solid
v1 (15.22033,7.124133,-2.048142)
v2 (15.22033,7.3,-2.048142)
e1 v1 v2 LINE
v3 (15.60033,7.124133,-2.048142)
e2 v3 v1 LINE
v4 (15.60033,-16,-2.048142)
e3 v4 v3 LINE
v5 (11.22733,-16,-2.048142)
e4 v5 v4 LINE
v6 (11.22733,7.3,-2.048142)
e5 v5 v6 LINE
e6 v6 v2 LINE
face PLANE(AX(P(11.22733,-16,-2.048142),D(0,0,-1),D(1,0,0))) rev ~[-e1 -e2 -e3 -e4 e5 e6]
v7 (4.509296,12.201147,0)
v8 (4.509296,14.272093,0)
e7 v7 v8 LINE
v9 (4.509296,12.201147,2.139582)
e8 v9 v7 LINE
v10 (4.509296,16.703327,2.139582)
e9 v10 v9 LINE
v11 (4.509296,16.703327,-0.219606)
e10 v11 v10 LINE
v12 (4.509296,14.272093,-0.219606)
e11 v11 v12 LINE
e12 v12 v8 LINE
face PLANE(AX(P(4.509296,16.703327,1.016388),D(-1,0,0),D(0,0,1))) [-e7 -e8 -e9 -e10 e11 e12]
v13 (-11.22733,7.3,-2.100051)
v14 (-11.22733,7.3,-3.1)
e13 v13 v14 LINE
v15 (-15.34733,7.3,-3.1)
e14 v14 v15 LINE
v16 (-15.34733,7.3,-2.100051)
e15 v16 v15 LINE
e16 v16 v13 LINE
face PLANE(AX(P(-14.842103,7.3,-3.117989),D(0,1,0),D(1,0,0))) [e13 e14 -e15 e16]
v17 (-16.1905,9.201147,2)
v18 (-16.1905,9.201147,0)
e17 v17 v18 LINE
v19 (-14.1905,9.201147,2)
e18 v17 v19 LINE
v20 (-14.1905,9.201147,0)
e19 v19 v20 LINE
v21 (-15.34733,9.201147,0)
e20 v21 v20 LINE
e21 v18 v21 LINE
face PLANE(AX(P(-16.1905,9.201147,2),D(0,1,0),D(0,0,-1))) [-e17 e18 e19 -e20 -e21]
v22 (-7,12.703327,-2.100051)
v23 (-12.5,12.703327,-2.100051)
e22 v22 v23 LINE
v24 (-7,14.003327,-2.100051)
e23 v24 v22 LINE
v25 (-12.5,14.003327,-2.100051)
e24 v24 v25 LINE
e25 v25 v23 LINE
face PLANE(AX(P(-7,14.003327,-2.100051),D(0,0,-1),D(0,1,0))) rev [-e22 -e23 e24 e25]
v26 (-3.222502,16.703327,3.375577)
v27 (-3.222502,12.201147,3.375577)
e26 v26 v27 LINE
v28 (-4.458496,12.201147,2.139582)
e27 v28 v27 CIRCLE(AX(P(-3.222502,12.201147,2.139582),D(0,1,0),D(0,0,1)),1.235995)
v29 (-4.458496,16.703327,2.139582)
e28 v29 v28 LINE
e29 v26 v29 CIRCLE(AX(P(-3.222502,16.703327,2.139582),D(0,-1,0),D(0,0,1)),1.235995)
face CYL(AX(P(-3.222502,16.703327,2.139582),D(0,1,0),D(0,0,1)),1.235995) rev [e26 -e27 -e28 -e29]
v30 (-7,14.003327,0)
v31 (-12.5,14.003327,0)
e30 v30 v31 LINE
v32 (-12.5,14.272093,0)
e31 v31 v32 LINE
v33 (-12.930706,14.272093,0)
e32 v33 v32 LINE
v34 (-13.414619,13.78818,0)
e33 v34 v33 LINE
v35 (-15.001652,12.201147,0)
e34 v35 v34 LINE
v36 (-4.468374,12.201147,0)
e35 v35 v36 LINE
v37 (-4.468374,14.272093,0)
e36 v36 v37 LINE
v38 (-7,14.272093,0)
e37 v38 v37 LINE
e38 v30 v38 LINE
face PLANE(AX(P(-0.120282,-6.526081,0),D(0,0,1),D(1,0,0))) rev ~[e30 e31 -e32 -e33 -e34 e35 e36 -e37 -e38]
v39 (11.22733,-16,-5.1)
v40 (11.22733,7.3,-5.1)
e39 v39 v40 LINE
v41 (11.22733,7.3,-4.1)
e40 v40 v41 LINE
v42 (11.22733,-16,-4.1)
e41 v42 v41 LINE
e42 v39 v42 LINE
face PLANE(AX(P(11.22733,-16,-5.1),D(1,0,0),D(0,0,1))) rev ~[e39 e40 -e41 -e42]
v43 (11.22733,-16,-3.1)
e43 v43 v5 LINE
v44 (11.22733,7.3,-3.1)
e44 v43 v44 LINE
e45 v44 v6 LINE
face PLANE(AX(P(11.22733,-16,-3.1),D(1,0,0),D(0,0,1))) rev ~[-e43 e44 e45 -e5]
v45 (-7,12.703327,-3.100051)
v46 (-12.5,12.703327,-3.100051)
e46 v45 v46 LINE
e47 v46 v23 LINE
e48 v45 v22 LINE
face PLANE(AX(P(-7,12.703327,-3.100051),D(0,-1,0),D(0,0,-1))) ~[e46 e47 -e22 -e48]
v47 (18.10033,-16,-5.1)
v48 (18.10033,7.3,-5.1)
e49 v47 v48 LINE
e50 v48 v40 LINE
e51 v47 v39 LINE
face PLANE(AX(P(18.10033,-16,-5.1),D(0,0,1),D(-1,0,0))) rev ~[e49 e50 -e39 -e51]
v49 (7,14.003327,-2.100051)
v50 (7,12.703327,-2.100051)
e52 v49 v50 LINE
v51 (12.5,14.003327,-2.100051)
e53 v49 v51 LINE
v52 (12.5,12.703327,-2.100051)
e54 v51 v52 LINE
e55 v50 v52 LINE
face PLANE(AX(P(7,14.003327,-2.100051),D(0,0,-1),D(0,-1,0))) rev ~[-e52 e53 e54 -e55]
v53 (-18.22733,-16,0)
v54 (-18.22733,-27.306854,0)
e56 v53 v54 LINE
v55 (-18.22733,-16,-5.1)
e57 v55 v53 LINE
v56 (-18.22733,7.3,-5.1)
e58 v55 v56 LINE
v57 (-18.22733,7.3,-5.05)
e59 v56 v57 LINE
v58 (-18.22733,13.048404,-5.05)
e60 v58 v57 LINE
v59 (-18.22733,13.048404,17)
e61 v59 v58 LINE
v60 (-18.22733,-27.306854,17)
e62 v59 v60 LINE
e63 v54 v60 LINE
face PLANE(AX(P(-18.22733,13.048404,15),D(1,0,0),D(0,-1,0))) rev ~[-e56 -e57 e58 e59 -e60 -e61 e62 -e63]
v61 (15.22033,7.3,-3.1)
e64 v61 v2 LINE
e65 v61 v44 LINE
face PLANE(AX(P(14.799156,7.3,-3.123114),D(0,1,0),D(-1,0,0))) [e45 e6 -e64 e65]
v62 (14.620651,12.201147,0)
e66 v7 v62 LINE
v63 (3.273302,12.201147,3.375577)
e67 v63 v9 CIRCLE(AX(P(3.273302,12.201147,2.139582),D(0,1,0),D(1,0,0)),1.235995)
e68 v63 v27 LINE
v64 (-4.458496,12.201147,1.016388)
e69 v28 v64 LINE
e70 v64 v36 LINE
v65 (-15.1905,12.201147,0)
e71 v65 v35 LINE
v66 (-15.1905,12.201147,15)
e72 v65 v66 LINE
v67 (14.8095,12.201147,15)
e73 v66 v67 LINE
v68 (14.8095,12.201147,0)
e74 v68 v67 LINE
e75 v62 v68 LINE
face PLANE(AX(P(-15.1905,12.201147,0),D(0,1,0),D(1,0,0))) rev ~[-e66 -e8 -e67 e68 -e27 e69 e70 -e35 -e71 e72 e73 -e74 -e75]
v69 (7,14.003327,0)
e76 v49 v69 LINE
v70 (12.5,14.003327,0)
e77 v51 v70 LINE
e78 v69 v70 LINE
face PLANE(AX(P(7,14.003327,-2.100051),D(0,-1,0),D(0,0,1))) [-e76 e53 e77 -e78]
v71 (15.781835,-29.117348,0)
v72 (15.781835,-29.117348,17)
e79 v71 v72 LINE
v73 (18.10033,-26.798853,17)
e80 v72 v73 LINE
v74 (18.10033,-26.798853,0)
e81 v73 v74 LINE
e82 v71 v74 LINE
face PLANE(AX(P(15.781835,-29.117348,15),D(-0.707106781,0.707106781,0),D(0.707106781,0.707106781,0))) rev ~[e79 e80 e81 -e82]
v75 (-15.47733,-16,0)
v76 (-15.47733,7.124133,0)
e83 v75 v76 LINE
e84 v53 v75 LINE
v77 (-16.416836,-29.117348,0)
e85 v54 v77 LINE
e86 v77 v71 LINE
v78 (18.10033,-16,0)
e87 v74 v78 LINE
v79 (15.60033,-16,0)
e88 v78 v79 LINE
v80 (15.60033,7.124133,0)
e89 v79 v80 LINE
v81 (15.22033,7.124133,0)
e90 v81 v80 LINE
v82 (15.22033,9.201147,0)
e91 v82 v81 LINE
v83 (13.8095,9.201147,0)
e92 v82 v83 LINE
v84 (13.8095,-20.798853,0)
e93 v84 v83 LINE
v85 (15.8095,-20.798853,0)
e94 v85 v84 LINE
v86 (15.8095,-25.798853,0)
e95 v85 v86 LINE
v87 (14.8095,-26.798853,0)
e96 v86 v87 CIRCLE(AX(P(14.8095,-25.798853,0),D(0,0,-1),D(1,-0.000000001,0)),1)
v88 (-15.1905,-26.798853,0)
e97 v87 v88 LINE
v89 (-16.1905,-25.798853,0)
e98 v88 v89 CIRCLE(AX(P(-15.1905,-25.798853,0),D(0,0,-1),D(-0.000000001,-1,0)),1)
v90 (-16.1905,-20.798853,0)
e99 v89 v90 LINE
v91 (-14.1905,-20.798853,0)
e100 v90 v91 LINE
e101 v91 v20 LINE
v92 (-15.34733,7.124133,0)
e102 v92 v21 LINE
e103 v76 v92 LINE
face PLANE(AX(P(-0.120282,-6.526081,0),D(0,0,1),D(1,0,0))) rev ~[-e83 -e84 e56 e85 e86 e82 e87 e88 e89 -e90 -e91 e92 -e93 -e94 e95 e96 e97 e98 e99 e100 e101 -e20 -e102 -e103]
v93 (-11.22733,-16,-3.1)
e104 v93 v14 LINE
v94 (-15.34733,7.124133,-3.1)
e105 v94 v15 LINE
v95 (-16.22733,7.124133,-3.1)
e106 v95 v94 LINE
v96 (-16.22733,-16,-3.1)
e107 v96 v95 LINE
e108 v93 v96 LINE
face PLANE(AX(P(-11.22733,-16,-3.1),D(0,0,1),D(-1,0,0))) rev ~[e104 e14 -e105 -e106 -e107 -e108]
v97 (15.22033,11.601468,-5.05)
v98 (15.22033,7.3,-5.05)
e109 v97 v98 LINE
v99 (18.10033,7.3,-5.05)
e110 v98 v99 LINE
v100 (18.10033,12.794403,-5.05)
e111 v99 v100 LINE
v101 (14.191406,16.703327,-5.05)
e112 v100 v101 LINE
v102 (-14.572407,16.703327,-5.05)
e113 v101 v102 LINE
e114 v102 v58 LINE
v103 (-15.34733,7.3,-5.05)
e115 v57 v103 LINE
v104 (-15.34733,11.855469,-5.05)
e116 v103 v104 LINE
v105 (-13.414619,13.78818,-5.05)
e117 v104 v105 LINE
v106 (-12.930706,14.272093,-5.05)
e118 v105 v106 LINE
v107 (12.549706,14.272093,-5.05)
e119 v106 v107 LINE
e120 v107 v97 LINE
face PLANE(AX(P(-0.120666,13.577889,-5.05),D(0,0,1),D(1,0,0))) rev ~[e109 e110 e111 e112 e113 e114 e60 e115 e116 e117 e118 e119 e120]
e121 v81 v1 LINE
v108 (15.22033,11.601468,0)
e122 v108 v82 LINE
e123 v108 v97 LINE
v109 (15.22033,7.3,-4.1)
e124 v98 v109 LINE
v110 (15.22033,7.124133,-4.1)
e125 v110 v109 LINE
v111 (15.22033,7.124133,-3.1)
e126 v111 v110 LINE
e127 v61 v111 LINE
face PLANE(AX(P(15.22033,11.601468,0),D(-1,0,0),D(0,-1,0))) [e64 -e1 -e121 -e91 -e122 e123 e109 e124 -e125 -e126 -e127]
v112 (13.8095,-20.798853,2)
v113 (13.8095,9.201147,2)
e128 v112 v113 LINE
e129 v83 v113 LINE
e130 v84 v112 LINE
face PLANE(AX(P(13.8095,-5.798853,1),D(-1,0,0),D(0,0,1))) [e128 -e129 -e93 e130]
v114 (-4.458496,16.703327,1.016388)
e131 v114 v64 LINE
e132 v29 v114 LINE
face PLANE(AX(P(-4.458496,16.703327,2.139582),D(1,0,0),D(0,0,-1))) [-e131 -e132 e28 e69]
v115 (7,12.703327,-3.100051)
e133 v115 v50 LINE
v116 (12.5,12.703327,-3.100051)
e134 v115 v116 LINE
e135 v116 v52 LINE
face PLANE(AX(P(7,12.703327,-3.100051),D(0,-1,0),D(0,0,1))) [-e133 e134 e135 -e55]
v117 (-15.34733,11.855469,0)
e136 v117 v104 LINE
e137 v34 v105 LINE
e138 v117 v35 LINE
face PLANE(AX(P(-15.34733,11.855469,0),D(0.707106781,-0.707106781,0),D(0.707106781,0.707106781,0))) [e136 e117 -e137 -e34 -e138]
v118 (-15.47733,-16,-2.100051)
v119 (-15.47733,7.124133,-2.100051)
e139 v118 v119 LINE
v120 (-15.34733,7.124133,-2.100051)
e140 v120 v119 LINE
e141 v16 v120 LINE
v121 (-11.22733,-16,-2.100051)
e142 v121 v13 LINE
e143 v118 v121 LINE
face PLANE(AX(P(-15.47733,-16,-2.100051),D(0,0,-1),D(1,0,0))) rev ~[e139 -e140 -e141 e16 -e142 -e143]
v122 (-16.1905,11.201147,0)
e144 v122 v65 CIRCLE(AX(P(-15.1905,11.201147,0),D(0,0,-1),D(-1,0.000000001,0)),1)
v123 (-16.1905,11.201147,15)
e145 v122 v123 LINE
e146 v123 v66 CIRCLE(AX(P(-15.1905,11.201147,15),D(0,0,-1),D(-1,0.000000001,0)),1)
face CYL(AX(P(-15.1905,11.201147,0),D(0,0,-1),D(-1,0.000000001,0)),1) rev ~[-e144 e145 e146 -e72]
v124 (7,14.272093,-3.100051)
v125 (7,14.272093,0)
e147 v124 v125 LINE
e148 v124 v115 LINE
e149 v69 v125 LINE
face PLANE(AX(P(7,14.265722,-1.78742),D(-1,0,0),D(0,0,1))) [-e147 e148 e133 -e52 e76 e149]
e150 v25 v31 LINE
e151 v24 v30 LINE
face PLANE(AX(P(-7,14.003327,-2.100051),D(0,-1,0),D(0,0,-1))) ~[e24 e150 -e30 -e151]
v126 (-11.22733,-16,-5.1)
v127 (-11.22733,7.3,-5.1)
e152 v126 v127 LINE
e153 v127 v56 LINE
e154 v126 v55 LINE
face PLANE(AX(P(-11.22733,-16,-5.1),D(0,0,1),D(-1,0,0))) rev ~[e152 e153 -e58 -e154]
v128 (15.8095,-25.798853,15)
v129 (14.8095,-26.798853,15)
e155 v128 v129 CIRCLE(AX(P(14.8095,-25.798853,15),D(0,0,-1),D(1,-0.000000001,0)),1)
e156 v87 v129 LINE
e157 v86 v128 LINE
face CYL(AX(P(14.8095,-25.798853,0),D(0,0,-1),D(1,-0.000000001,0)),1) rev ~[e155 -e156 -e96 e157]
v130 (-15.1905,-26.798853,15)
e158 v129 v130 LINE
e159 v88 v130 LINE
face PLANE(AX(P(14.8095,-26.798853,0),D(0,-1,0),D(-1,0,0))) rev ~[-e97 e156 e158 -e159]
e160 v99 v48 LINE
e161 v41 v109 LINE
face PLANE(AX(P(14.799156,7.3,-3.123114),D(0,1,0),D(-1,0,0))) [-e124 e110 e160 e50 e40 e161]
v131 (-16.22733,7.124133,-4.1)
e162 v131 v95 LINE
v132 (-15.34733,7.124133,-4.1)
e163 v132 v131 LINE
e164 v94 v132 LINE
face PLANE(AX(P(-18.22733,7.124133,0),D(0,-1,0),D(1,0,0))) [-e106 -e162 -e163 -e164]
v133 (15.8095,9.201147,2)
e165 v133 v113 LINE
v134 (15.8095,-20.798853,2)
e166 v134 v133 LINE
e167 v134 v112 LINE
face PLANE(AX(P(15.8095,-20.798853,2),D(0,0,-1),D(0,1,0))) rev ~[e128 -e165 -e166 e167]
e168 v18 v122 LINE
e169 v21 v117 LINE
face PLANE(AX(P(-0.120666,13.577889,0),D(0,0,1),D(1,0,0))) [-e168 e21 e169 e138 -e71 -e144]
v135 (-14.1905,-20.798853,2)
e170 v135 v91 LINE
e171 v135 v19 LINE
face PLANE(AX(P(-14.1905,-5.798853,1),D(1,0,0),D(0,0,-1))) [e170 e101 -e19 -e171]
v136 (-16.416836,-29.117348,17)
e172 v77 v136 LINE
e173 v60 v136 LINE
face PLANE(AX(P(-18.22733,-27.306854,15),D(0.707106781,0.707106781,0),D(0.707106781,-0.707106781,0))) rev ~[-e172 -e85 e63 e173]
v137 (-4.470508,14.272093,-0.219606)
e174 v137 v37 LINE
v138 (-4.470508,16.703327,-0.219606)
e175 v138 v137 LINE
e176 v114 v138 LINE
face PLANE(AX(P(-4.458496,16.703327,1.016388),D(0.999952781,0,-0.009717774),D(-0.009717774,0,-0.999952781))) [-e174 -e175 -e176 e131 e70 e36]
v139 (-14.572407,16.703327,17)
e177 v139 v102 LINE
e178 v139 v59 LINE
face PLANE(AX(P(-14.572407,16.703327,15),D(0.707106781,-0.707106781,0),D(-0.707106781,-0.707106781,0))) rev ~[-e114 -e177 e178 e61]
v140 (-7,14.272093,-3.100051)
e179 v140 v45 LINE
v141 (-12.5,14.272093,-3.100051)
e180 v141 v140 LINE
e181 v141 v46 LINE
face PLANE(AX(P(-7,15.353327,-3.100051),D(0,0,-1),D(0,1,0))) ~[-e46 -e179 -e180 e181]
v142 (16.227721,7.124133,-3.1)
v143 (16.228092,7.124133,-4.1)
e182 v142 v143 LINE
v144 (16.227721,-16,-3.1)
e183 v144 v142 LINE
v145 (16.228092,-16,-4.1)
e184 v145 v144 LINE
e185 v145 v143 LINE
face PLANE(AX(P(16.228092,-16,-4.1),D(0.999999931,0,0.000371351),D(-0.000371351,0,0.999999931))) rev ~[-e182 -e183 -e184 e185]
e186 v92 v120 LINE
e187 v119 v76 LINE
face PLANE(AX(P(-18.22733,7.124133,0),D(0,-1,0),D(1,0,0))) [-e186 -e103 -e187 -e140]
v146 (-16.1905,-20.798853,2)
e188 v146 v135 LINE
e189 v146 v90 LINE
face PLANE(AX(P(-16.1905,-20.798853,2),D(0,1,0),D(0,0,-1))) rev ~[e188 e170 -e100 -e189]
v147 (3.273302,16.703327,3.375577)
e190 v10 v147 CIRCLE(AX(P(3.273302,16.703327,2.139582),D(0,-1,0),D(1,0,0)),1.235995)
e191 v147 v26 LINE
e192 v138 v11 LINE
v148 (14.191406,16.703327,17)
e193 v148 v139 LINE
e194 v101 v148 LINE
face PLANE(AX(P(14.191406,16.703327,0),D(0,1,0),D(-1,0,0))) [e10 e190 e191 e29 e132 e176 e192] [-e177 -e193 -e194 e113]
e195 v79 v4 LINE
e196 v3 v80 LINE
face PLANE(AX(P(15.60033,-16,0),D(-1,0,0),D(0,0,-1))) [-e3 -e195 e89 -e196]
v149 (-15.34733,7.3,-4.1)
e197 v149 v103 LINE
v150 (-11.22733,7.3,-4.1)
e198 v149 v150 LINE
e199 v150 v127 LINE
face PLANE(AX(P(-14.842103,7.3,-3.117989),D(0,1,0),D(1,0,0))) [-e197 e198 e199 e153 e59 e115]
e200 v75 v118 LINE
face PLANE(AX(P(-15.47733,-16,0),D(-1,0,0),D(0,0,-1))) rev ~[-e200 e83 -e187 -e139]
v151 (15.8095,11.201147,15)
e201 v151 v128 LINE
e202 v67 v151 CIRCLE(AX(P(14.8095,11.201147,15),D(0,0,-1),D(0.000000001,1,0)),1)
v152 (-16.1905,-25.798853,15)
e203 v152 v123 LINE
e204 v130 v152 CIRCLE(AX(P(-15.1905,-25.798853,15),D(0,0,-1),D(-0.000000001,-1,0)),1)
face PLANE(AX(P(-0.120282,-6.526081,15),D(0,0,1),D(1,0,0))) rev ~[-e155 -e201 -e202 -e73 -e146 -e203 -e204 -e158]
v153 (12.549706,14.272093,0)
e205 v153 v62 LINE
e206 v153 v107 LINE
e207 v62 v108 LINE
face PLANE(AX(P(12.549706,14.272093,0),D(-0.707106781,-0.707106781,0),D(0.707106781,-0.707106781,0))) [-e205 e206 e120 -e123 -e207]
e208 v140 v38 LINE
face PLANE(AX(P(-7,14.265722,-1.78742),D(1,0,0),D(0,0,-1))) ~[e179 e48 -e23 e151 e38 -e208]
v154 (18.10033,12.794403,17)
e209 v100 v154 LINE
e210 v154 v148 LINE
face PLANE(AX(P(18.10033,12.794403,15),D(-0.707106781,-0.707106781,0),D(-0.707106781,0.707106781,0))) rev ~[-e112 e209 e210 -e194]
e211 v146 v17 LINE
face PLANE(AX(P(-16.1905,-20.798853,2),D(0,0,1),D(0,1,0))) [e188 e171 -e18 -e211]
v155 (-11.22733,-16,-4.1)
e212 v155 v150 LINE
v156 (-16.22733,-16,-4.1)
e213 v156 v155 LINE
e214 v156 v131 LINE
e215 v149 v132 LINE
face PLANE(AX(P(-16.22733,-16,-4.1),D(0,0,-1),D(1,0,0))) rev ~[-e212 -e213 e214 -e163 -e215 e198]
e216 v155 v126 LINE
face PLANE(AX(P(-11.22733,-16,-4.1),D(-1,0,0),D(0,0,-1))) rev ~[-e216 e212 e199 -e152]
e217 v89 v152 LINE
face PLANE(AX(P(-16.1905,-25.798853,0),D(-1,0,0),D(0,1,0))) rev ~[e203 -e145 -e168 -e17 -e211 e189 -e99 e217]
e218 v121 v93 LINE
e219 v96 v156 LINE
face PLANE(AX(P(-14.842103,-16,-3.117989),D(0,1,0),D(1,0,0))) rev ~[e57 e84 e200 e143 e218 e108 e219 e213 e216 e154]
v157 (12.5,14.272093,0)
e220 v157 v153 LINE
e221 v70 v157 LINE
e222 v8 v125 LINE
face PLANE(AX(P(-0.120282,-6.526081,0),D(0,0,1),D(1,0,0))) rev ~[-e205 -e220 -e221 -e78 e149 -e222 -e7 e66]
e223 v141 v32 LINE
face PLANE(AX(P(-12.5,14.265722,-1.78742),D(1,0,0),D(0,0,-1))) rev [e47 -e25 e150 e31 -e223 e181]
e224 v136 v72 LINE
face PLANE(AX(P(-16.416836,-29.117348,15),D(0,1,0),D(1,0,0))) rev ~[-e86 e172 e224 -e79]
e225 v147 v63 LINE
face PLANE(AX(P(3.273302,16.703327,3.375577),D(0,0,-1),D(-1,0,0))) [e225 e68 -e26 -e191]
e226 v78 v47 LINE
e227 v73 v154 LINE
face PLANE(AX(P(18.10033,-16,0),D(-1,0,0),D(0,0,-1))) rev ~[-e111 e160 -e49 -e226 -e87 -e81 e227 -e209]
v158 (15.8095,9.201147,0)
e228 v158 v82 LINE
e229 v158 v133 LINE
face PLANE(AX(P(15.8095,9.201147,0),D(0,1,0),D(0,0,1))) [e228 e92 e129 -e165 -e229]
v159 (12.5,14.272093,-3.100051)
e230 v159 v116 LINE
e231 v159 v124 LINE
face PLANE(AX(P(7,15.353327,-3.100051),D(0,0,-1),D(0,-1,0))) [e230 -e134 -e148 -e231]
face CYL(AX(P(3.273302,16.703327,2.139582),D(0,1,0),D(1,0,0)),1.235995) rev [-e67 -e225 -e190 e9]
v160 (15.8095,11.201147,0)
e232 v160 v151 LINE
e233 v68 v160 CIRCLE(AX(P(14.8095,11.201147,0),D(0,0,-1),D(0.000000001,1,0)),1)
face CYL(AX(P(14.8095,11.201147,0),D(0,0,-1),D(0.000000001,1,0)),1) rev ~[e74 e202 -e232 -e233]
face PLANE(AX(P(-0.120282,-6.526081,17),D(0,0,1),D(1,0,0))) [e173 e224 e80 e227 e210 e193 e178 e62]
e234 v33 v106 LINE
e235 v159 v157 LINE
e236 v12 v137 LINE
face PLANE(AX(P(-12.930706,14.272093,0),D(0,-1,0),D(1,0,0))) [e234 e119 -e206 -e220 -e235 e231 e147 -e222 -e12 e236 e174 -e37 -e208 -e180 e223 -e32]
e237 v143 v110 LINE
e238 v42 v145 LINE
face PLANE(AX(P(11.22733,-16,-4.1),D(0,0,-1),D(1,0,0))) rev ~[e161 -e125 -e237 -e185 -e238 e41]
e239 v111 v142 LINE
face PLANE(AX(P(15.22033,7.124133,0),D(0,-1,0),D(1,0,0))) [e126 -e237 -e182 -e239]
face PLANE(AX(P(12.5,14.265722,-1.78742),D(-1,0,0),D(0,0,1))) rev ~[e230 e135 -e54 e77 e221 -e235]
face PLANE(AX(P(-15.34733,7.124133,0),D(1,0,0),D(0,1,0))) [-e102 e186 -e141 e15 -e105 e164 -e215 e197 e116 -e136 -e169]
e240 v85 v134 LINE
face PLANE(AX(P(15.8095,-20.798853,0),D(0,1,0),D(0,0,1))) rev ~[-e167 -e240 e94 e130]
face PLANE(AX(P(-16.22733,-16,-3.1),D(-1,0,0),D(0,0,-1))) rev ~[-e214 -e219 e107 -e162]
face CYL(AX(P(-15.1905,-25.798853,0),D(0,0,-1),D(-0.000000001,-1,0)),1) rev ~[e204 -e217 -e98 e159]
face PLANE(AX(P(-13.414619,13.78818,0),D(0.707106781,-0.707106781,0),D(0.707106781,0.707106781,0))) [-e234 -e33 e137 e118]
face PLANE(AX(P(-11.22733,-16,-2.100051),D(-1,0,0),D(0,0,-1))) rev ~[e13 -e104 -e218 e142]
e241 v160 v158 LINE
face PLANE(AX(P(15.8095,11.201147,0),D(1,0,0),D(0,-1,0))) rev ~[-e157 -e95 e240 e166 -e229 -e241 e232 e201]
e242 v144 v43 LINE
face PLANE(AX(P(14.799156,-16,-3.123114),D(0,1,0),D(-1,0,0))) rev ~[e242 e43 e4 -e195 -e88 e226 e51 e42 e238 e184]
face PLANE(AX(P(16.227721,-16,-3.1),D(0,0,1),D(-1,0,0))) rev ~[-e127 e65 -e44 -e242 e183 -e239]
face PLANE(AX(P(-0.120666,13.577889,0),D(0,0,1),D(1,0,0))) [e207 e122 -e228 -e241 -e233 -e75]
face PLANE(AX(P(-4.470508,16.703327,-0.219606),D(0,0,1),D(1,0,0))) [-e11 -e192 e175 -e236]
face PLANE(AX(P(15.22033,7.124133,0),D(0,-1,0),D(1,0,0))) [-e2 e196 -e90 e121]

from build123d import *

# Parameters (mm, degrees)
EXTRUDE_1_DEPTH      = 15
EXTRUDE_2_DEPTH      = 2
SKETCH_3_W           = 2
SKETCH_3_H           = 30
EXTRUDE_3_DEPTH      = 2
SKETCH_4_W           = 2
SKETCH_4_H           = 30
EXTRUDE_4_DEPTH      = 2
EXTRUDE_START        = 7
EXTRUDE_5_DEPTH      = 5.5
EXTRUDE_6_DEPTH      = 7.3
EXTRUDE_6_DEPTH_BACK = 16
EXTRUDE_7_DEPTH      = 23.3
EXTRUDE_9_DEPTH      = 5.05
CUT_EXTRUDE_3_DEPTH  = 8.15


with BuildPart() as part:
    # 草图1 → 凸台-拉伸1 (new body)
    with BuildSketch(Plane.XY):
        Polygon((15.781834721, -29.117348235), (18.100330201, -26.798852755), (18.100330201, 12.794403278), (14.191406072, 16.703327407), (-14.572406834, 16.703327407), (-18.227330455, 13.048403786), (-18.227330455, -27.306853771), (-16.416835991, -29.117348235), align=None)
        with BuildLine():
            ThreePointArc((-15.190500381, -26.798852755), (-15.897607162, -26.505959536), (-16.190500381, -25.798852755))
            Line((-16.190500381, -25.798852755), (-16.190500381, 11.201147245))
            ThreePointArc((-16.190500381, 11.201147245), (-15.897607162, 11.908254026), (-15.190500381, 12.201147245))
            Line((-15.190500381, 12.201147245), (14.809499619, 12.201147245))
            ThreePointArc((14.809499619, 12.201147245), (15.5166064, 11.908254026), (15.809499619, 11.201147245))
            Line((15.809499619, 11.201147245), (15.809499619, -25.798852755))
            ThreePointArc((15.809499619, -25.798852755), (15.5166064, -26.505959536), (14.809499619, -26.798852755))
            Line((14.809499619, -26.798852755), (-15.190500381, -26.798852755))
        make_face(mode=Mode.SUBTRACT)
    extrude(amount=EXTRUDE_1_DEPTH)

    # 草图2 → 凸台-拉伸2 (add)
    with BuildSketch(Plane.XY.offset(15)):
        Polygon((-14.572406834, 16.703327407), (-18.227330455, 13.048403786), (-18.227330455, -27.306853771), (-16.416835991, -29.117348235), (-0.317500635, -29.117348235), (15.781834721, -29.117348235), (18.100330201, -26.798852755), (18.100330201, 12.794403278), (14.191406072, 16.703327407), align=None)
    extrude(amount=EXTRUDE_2_DEPTH)

    # 草图3 → 凸台-拉伸3 (add)
    with BuildSketch(Plane(origin=(-16.190500381, 0, 0), x_dir=(0, 0, -1), z_dir=(1, 0, 0))):
        with Locations((-1, -5.798852755)):
            Rectangle(SKETCH_3_W, SKETCH_3_H)
    extrude(amount=EXTRUDE_3_DEPTH)

    # 草图4 → 凸台-拉伸4 (add)
    with BuildSketch(Plane.ZY.offset(-15.809499619)):
        with Locations((1, -5.798852755)):
            Rectangle(SKETCH_4_W, SKETCH_4_H)
    extrude(amount=EXTRUDE_4_DEPTH)

    # 草图5 → 凸台-拉伸5 (add)
    with BuildSketch(Plane(origin=(0, 0, 0), x_dir=(0, 0, -1), z_dir=(1, 0, 0)).offset(EXTRUDE_START)):
        Polygon((3.1000508, 15.353327407), (0, 15.353327407), (0, 14.003327407), (2.1000508, 14.003327407), (2.1000508, 13.703327407), (2.1000508, 12.703327407), (3.1000508, 12.703327407), align=None)
    extrude_5 = extrude(amount=EXTRUDE_5_DEPTH)

    # 镜向1: 凸台-拉伸5 across plane
    add(extrude_5.mirror(Plane(origin=(0, 0, 0), x_dir=(0, 0, 1), z_dir=(1, 0, 0))))

    # 草图7 → 凸台-拉伸6 (add, two sides: drawn at the far end of the back side and taken through both)
    with BuildSketch(Plane(origin=(0, 0, 0), x_dir=(1, 0, 0), z_dir=(0, 1, 0)).offset(-EXTRUDE_6_DEPTH_BACK)):
        Polygon((-18.227330455, 3.1), (-18.227330455, 0), (-15.477330455, 0), (-15.477330455, 2.1000508), (-15.227330455, 2.1000508), (-11.227330455, 2.1000508), (-11.227330455, 3.1), (-16.227330455, 3.1), (-16.227330455, 4.1), (-11.227330455, 4.1), (-11.227330455, 5.1), (-18.227330455, 5.1), (-18.227330455, 4.1), align=None)
    extrude(amount=EXTRUDE_6_DEPTH + EXTRUDE_6_DEPTH_BACK)

    # 草图10 → 凸台-拉伸7 (add)
    with BuildSketch(Plane.XZ.offset(16)):
        Polygon((16.227721063, -3.100000069), (11.227330455, -3.100000069), (11.227330455, -2.048141563), (15.600330201, -2.048141563), (15.600330201, -1.6000508), (15.600330201, 0), (16.226569186, 0.001858295), (18.100330201, 0), (18.100330201, -5.1), (11.227330455, -5.1), (11.227330455, -4.1), (16.228092414, -4.1), align=None)
    extrude(amount=-EXTRUDE_7_DEPTH)

    # 草图11 → 凸台-拉伸9 (add)
    with BuildSketch(Plane(origin=(0, 0, 0), x_dir=(-1, 0, 0), z_dir=(0, 0, -1))):
        Polygon((-15.220330201, 7.12413323), (-18.100330201, 7.12413323), (-18.100330201, 12.794403278), (-14.191406072, 16.703327407), (14.572406834, 16.703327407), (18.227330455, 13.048403786), (18.227330455, 7.12413323), (15.347330455, 7.12413323), (15.347330455, 11.855468727), (13.414618961, 13.78818022), (12.930706389, 14.272092792), (-12.549705627, 14.272092792), (-15.220330201, 11.601468219), align=None)
    extrude(amount=EXTRUDE_9_DEPTH)

    # 草图14 → 切除-拉伸3 (cut)
    with BuildSketch(Plane(origin=(0, 16.703327407, 0), x_dir=(1, 0, 0), z_dir=(0, 1, 0))):
        with BuildLine():
            ThreePointArc((-4.458496317, -2.139582087), (-4.096481847, -3.01356233), (-3.222501604, -3.3755768))
            Line((-3.222501604, -3.3755768), (3.273301705, -3.3755768))
            ThreePointArc((3.273301705, -3.3755768), (4.147281949, -3.01356233), (4.509296419, -2.139582087))
            Line((4.509296419, -2.139582087), (4.509296419, 0.219606282))
            Line((4.509296419, 0.219606282), (-4.470508001, 0.219606282))
            Line((-4.470508001, 0.219606282), (-4.458496317, -1.016388431))
            Line((-4.458496317, -1.016388431), (-4.458496317, -2.139582087))
        make_face()
    extrude(amount=-CUT_EXTRUDE_3_DEPTH, mode=Mode.SUBTRACT)


solid = part.part
